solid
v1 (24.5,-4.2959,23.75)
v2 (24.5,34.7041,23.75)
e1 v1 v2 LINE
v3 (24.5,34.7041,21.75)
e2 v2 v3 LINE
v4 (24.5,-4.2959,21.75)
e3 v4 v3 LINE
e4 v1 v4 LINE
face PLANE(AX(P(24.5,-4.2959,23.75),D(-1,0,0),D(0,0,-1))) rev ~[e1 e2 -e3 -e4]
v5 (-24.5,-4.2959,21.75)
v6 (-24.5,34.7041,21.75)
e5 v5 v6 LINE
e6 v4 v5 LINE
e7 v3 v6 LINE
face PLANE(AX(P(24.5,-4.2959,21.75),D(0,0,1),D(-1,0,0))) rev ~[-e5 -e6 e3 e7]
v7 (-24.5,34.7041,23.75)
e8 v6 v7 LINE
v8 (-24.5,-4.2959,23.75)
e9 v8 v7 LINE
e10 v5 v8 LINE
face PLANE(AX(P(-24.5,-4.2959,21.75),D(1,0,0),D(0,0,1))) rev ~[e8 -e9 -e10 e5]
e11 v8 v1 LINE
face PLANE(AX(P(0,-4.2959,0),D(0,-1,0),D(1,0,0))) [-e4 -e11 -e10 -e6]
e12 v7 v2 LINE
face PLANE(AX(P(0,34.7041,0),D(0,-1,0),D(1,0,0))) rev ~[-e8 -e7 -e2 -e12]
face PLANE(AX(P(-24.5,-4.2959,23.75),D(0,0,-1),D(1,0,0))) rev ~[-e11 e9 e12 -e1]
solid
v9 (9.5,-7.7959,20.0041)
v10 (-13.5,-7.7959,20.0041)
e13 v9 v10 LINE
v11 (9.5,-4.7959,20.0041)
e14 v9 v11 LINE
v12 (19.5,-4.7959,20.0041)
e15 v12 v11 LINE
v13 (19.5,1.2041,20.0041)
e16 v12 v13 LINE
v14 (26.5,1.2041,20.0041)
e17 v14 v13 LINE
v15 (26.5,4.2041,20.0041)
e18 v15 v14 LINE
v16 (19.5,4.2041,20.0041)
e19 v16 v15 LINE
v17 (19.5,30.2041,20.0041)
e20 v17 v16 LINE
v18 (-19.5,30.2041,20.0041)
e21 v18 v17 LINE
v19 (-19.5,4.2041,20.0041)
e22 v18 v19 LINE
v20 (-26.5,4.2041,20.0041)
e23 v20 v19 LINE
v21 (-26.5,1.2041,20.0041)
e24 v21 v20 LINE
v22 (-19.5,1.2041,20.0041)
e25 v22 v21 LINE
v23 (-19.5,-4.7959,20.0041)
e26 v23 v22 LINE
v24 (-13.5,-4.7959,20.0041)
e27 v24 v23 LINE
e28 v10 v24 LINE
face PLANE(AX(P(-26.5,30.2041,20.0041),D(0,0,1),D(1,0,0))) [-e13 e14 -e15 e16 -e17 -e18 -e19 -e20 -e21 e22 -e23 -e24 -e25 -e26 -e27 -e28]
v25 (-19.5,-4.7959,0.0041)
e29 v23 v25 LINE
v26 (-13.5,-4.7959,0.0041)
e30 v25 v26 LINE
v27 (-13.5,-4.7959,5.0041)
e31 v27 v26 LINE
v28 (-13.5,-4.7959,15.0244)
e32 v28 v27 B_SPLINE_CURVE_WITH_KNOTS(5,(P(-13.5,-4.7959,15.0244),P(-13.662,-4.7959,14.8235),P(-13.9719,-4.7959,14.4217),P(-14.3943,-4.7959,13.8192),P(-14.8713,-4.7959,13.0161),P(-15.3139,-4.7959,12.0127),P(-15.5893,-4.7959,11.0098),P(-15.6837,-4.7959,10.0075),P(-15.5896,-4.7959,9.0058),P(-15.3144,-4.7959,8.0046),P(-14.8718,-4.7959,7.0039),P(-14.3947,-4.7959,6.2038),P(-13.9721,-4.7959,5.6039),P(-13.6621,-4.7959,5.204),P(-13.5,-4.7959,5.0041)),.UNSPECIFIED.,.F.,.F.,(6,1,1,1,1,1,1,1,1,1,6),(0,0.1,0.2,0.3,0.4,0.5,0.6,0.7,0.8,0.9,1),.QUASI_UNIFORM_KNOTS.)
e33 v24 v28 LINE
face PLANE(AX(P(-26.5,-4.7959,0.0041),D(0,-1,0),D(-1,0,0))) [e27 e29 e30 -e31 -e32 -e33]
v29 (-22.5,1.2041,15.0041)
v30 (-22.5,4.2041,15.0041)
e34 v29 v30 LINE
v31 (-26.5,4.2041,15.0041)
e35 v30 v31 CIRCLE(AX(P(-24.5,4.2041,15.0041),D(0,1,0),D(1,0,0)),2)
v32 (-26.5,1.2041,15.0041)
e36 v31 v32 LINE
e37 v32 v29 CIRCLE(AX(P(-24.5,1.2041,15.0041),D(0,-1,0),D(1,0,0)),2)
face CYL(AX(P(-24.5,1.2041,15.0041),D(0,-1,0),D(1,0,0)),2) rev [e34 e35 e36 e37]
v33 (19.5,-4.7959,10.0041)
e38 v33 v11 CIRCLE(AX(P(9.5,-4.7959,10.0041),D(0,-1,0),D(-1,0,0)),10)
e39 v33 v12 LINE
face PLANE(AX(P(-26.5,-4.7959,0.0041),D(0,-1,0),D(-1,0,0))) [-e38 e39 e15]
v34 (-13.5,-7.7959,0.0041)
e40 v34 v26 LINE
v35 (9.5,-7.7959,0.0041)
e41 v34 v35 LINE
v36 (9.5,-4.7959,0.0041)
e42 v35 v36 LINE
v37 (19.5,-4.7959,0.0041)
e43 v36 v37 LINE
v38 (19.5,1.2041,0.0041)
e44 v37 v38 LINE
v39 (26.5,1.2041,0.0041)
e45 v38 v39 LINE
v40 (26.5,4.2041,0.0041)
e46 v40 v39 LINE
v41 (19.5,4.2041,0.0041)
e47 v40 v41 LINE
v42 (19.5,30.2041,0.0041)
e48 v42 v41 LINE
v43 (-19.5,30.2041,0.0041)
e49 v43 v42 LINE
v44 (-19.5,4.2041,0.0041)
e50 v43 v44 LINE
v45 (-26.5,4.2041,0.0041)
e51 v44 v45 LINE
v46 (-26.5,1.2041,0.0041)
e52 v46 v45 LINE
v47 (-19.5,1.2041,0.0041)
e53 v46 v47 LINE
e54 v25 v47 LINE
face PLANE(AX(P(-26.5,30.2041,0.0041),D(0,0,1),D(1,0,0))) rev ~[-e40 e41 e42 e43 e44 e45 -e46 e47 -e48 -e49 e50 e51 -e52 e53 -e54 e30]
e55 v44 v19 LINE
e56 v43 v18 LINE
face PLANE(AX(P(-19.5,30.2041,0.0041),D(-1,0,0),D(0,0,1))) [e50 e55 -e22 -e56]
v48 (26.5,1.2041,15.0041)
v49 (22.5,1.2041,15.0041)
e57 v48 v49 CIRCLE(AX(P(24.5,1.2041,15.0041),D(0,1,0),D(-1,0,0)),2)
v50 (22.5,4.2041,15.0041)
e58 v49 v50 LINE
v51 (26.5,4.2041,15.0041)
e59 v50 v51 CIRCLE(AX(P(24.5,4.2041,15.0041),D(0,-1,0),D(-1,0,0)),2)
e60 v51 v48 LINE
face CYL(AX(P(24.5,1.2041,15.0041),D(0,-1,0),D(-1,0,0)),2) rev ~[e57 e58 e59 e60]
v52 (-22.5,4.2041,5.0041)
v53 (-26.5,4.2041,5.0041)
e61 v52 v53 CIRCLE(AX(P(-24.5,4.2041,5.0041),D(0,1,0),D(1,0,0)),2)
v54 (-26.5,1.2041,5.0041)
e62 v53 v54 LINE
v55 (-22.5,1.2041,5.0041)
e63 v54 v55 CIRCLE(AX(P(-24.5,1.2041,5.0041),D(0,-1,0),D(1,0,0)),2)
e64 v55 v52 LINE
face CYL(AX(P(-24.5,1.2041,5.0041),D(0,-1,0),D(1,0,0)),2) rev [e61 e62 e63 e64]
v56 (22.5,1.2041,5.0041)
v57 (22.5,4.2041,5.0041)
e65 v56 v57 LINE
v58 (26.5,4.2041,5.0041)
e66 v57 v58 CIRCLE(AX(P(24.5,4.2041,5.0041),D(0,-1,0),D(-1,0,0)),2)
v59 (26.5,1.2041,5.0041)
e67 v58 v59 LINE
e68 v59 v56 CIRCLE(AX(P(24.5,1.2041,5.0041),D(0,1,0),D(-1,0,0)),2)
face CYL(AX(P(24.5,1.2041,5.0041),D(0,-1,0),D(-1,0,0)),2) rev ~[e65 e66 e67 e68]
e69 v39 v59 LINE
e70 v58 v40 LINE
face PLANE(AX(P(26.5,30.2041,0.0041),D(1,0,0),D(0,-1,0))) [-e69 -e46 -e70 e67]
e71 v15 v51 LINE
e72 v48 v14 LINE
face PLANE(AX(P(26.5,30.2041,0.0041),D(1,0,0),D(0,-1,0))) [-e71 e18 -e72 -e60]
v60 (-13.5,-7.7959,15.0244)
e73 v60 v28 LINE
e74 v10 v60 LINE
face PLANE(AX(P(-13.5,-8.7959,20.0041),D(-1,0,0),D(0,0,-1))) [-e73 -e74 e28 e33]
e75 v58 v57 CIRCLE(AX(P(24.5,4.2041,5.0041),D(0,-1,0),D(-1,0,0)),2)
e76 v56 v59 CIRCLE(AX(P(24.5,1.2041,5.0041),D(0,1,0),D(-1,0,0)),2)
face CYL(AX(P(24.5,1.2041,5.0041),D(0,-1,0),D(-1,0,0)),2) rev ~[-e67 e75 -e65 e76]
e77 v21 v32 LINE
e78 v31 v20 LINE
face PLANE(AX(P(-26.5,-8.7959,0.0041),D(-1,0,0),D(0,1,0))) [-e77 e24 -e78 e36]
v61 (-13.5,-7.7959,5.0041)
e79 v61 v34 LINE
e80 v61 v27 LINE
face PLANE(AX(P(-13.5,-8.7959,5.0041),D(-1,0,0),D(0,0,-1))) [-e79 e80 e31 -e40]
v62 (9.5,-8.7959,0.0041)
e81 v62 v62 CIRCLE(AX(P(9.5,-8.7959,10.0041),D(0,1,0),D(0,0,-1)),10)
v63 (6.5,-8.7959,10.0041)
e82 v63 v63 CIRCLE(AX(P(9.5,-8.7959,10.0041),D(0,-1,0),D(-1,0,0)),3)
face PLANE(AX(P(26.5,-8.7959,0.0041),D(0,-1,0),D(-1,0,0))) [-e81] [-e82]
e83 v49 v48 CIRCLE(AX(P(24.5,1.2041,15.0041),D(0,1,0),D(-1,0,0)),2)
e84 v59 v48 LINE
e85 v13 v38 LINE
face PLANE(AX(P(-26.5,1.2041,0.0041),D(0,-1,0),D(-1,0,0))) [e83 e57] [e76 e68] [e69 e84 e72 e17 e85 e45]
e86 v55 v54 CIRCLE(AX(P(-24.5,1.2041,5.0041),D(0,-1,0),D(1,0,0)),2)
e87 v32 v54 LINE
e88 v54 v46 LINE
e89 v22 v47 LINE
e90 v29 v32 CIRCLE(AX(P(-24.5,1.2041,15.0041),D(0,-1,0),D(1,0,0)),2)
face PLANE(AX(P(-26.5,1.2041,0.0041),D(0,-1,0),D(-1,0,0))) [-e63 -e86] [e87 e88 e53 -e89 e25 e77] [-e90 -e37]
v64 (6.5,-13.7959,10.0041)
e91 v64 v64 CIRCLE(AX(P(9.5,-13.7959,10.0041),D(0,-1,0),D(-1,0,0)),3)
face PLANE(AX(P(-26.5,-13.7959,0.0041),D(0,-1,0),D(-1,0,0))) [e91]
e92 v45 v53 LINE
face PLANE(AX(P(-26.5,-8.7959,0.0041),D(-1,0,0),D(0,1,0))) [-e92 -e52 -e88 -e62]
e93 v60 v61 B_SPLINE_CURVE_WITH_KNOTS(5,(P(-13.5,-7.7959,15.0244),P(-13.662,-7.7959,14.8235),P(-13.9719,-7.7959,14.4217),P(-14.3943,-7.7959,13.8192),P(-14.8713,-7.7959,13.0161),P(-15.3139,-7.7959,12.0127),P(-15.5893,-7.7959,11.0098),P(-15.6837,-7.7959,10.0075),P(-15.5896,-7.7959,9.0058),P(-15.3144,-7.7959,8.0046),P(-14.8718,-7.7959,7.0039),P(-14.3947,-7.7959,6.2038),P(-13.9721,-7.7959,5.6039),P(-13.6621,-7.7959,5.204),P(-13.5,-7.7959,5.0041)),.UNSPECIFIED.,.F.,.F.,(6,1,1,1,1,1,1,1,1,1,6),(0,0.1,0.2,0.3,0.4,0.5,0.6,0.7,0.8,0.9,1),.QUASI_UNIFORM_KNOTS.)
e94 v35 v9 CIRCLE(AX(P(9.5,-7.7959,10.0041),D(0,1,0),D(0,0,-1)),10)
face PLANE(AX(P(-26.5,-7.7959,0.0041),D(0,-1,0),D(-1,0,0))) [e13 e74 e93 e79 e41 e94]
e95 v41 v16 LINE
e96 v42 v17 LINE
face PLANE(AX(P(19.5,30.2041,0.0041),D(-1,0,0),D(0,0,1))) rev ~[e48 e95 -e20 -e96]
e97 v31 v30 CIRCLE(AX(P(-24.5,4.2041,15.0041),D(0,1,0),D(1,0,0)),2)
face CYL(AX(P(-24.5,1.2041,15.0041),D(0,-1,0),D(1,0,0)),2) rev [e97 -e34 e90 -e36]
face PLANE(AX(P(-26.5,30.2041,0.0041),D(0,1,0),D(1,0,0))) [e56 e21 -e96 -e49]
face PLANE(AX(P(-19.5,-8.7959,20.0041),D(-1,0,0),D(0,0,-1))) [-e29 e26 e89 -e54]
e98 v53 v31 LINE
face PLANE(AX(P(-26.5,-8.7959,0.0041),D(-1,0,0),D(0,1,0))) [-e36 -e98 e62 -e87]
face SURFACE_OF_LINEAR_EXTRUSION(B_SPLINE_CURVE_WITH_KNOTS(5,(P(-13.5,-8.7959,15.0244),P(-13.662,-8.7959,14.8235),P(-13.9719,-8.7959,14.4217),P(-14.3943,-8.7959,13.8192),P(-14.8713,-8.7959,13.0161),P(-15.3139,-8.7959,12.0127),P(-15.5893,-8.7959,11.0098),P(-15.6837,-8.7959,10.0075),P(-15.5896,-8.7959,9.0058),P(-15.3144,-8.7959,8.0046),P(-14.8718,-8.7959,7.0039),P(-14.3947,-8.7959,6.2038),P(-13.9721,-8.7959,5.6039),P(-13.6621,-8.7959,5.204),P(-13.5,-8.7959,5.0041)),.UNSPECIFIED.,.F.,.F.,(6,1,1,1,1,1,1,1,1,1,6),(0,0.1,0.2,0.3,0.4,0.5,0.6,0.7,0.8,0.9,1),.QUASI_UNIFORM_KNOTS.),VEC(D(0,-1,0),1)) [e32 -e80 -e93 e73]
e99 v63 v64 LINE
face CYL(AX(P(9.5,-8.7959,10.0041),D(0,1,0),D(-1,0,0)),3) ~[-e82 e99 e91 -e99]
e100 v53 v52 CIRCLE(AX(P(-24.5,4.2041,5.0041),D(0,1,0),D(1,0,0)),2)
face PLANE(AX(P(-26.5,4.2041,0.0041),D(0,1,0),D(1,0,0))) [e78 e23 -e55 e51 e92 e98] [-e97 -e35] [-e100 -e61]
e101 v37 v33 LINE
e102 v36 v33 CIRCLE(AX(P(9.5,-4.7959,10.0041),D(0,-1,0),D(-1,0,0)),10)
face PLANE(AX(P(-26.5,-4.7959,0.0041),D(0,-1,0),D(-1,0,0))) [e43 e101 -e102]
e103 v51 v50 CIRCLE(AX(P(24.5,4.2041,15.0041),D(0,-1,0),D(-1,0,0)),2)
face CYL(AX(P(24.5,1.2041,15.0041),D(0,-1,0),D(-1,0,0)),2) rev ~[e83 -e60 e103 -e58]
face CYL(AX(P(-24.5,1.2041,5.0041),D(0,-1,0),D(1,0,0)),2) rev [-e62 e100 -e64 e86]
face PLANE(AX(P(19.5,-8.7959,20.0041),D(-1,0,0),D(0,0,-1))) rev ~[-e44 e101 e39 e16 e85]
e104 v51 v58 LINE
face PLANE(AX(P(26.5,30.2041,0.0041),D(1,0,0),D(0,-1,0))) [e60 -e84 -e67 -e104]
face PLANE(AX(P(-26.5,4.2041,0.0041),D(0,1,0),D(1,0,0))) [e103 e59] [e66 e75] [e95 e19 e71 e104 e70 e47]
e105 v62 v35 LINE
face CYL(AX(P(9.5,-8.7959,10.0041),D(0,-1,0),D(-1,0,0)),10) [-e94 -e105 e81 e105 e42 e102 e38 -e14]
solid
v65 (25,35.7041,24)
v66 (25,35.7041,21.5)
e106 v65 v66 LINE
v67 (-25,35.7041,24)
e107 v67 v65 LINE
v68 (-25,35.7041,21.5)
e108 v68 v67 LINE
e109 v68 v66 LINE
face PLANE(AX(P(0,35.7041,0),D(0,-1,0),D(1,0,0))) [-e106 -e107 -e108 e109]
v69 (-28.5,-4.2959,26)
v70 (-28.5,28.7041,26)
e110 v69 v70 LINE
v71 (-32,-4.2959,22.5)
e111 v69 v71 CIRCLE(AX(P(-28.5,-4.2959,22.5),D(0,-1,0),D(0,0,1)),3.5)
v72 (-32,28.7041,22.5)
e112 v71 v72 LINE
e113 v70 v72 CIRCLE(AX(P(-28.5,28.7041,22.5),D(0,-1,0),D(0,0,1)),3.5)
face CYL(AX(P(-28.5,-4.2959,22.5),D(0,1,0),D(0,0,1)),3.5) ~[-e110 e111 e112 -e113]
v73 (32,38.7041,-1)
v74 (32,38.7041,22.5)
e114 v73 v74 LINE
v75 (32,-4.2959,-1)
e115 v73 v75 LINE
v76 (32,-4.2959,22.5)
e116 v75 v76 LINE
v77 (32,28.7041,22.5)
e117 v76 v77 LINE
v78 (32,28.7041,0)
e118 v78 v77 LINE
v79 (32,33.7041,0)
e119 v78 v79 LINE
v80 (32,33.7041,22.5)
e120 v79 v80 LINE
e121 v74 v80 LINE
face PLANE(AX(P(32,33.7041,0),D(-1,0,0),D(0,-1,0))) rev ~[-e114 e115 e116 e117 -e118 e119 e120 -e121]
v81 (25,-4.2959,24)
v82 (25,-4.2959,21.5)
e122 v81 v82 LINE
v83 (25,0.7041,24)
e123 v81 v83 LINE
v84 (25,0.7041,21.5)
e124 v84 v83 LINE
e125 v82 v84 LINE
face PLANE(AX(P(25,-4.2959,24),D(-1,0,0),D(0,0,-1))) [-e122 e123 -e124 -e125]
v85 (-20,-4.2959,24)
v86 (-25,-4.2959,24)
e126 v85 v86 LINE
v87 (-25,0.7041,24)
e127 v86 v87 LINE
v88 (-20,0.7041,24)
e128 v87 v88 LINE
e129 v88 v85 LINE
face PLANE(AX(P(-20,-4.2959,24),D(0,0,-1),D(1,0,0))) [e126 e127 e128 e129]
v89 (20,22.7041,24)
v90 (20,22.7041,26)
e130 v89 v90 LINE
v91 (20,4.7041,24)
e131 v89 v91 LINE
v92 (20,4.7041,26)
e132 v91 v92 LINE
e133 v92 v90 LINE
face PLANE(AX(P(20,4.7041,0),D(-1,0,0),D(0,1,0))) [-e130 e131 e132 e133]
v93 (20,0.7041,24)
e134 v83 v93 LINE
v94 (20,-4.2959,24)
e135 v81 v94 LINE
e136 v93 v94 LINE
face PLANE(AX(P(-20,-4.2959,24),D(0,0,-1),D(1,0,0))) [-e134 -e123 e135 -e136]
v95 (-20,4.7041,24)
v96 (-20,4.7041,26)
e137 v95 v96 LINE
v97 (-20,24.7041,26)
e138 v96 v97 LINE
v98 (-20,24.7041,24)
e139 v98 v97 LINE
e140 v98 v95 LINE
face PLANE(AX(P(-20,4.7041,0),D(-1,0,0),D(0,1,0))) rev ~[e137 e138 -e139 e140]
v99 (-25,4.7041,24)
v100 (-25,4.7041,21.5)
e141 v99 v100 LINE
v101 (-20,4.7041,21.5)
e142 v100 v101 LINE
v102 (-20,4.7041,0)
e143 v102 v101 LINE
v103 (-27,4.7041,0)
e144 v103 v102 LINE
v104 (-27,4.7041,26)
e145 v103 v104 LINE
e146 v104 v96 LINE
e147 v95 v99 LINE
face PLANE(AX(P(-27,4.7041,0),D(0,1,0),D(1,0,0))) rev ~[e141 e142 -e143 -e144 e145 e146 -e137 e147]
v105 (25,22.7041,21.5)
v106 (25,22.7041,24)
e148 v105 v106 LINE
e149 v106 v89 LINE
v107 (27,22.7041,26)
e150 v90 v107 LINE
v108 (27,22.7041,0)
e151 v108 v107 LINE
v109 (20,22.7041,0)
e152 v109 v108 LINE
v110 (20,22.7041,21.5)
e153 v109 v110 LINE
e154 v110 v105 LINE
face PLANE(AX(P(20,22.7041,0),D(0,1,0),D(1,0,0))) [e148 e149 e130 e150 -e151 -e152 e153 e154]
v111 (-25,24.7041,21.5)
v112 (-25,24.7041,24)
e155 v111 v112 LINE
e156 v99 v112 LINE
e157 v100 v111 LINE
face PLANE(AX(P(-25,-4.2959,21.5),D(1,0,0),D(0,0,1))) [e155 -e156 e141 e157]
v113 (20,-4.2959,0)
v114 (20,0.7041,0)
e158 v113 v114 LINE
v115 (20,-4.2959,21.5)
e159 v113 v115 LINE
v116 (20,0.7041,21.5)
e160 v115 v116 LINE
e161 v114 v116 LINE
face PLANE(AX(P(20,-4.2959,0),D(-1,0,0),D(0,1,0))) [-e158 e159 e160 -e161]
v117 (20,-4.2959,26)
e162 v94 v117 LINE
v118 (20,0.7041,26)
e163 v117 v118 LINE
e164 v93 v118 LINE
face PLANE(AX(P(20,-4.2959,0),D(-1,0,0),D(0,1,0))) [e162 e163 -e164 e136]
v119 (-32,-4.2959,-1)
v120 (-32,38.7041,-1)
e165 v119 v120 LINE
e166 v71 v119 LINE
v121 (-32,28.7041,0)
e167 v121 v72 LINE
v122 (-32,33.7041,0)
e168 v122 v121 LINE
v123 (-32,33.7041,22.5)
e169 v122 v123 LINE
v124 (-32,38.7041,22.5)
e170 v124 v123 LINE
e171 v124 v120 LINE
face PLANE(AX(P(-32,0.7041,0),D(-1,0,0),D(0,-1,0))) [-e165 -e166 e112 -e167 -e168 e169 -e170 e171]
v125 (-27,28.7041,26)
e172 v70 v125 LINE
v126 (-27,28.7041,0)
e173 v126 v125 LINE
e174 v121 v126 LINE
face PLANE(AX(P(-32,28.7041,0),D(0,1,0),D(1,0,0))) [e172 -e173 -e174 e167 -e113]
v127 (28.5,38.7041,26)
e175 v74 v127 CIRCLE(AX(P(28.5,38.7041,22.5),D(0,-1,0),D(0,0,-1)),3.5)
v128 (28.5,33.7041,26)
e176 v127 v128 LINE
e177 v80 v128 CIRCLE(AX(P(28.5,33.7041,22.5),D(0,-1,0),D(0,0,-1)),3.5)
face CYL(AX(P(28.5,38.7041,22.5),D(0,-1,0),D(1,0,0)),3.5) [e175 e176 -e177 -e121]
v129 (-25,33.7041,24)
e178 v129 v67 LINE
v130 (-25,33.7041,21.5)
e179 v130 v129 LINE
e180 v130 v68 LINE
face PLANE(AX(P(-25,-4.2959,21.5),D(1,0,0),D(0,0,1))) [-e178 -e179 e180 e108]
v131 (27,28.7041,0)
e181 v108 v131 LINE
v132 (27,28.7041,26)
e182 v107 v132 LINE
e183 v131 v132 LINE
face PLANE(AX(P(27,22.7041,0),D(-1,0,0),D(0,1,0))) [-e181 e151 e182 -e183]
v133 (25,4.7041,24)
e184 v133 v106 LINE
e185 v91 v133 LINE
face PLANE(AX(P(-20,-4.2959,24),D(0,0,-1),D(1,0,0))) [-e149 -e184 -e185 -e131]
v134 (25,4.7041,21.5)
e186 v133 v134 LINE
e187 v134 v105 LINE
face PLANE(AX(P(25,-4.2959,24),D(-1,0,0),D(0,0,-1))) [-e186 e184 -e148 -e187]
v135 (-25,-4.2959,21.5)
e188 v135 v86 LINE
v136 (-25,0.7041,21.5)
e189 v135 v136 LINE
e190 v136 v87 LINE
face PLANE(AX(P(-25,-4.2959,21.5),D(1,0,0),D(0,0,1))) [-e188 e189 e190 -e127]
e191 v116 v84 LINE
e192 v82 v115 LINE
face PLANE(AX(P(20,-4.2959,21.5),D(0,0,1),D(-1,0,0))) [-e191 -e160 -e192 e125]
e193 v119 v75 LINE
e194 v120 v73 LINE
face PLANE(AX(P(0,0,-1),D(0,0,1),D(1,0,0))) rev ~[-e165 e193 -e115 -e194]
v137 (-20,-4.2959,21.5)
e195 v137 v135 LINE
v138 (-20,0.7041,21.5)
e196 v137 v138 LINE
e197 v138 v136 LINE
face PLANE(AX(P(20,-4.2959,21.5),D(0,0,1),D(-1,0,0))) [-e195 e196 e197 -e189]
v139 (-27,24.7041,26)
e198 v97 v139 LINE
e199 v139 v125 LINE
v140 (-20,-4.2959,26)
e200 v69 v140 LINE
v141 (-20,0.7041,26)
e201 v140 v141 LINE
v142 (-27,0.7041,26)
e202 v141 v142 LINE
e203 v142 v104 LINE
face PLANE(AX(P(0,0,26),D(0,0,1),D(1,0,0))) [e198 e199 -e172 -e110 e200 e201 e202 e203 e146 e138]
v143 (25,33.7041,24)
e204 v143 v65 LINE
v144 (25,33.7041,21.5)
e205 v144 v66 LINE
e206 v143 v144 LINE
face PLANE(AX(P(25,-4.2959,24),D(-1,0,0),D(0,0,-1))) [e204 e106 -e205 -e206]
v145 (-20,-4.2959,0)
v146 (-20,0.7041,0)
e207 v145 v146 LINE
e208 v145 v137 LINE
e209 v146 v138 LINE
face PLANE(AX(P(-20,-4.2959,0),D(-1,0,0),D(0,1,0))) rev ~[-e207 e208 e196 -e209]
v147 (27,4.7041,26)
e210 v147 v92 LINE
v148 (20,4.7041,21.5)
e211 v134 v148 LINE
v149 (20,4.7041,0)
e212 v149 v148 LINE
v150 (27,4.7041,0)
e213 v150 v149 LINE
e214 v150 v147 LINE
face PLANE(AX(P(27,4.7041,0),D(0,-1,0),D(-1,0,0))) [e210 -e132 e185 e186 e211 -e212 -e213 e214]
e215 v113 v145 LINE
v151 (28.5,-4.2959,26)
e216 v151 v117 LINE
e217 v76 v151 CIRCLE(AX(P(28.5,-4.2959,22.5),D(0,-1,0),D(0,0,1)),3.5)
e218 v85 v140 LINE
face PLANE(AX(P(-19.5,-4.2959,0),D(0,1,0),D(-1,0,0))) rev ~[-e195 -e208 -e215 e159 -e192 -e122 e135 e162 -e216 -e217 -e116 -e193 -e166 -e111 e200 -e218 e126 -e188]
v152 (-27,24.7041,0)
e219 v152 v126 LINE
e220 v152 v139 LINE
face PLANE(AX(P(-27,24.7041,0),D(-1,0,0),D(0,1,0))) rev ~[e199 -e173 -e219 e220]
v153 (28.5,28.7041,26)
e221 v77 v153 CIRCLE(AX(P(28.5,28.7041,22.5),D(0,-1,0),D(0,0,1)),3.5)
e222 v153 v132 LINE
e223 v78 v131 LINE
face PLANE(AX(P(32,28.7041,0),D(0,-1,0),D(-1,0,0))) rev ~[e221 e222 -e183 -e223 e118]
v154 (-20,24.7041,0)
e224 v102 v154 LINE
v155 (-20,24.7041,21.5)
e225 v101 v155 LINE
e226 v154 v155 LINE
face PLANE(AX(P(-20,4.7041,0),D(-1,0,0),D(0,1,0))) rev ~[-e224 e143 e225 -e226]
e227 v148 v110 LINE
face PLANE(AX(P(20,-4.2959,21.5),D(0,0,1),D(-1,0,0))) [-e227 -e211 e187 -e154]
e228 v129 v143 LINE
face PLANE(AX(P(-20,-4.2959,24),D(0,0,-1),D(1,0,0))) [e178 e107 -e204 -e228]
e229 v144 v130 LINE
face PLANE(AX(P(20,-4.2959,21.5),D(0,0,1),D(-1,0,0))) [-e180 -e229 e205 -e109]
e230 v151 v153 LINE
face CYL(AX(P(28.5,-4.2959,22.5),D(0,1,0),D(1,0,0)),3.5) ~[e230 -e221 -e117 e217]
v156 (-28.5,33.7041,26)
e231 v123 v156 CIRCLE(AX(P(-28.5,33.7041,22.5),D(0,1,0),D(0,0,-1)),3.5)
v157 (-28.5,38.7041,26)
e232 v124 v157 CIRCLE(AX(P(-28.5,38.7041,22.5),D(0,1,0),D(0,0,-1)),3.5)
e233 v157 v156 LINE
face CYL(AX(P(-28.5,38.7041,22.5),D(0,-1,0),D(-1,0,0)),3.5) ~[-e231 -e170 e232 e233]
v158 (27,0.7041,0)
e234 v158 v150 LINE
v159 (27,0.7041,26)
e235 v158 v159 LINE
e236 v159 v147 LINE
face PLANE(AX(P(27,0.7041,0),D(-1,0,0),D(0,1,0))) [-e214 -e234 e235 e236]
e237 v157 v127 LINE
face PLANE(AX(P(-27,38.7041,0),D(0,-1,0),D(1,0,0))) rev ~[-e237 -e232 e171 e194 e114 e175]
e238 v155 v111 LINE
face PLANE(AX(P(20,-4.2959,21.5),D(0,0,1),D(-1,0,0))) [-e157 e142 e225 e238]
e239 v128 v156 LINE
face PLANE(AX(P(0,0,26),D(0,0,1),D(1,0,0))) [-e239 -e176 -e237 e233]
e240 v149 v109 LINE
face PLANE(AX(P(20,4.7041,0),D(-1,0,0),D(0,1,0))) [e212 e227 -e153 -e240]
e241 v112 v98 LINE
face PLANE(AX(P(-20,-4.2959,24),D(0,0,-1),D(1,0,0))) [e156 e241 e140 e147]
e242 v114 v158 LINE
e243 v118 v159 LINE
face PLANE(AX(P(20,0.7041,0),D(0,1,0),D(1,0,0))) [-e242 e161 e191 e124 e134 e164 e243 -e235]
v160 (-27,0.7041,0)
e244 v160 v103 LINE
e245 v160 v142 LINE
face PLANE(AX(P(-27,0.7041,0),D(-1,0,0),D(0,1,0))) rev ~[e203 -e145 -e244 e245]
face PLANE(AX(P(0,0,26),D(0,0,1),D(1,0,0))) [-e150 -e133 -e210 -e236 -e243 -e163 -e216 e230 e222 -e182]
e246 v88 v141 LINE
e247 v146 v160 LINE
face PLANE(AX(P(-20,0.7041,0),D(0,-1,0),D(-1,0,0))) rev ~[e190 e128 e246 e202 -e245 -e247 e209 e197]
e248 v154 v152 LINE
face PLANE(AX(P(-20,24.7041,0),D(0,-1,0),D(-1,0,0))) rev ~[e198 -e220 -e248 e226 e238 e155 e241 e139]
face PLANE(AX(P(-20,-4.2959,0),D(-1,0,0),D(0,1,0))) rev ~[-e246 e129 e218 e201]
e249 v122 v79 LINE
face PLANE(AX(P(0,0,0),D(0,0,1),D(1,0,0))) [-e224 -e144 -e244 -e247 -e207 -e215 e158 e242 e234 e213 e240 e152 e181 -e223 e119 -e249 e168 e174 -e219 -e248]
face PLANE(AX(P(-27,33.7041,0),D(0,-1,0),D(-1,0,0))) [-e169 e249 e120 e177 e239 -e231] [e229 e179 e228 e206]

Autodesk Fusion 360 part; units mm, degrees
sketch "Sketch1" plane through (0, 0, 0) normal (0, 1, 0) x (1, 0, 0) in component "actual acutator v0 v1"
  line L0 (0, 0) -> (53, 0)
  line L1 (53, 0) -> (53, -39)
  line L2 (53, -39) -> (0, -39)
  line L3 (0, -39) -> (0, 0)
  dimension "d1" = 53
  dimension "d2" = 39
extrude "Extrude1" add sketch "Sketch1" along normal blind 20 makes body 1 in component "actual acutator v0 v1"
sketch "Sketch2" plane through (0, 0, 39) normal (0, 0, 1) x (-1, 0, 0) in component "actual acutator v0 v1"
  line L0 (0, 0) -> (-53, 0)
  line L1 (-53, 0) -> (-53, -20)
  line L2 (-53, -20) -> (0, -20)
  line L3 (0, -20) -> (0, 0)
  line L4 (0, -20) -> (-7, -20)
  line L5 (-7, -20) -> (-7, 0)
  line L6 (-7, 0) -> (0, 0)
  line L7 (0, 0) -> (0, -20)
  line L8 (-53, -20) -> (-46, -20)
  line L9 (-46, -20) -> (-46, 0)
  line L10 (-46, 0) -> (-53, 0)
  line L11 (-53, 0) -> (-53, -20)
  dimension "d5" = 7
  dimension "d6" = 7
extrude "Extrude2" cut sketch "Sketch2" against normal blind 10 contours L0 L2 L3 L4 L5 L6 L7 | L0 L1 L2 L8 L9 L10 L11 bodies 1 in component "actual acutator v0 v1"
sketch "Sketch3" plane through (0, 0, 0) normal (0, 0, -1) x (1, 0, 0) in component "actual acutator v0 v1"
  line L0 (53, 0) -> (0, 0)
  line L1 (0, 0) -> (0, -20)
  line L2 (0, -20) -> (53, -20)
  line L3 (53, -20) -> (53, 0)
  line L4 (0, 0) -> (7, 0)
  line L5 (7, 0) -> (7, -20)
  line L6 (7, -20) -> (0, -20)
  line L7 (0, -20) -> (0, 0)
  line L8 (53, 0) -> (46, 0)
  line L9 (46, 0) -> (46, -20)
  line L10 (46, -20) -> (53, -20)
  line L11 (53, -20) -> (53, 0)
  dimension "d9" = 7
  dimension "d10" = 7
extrude "Extrude3" cut sketch "Sketch3" against normal blind 26 contours L0 L2 L3 L8 L9 L10 L11 | L0 L1 L2 L4 L5 L6 L7 bodies 1 in component "actual acutator v0 v1"
sketch "Sketch4" plane through (0, 0, 39) normal (0, 0, 1) x (-1, 0, 0) in component "actual acutator v0 v1"
  line L0 (-7, -20) -> (-7, 0)
  line L1 (-7, 0) -> (-46, 0)
  line L2 (-46, 0) -> (-46, -20)
  line L3 (-46, -20) -> (-7, -20)
  line L4 (-7, -20) -> (-13, -20)
  line L5 (-13, -20) -> (-13, 0)
  line L6 (-13, 0) -> (-7, 0)
  line L7 (-7, 0) -> (-7, -20)
  circle A0 centre (-36, -10) radius 10
  circle A1 centre (-36, -10) radius 6.5
  circle A2 centre (-36, -10) radius 3
  spline S0 degree 5 poles (-13, -15.0203) (-12.838, -14.8194) (-12.5281, -14.4176) (-12.1057, -13.8151) (-11.6287, -13.012) (-11.1861, -12.0086) (-10.9107, -11.0057) (-10.8163, -10.0034) (-10.9104, -9.0017) (-11.1856, -8.0005) (-11.6282, -6.9998) (-12.1053, -6.1997) (-12.5279, -5.5998) (-12.8379, -5.1999) (-13, -5) knots 0 0 0 0 0 0 0.1 0.2 0.3 0.4 0.5 0.6 0.7 0.8 0.9 1 1 1 1 1 1
  point P0 (-13, -10)
  point P1 (-13, -15.0203)
  point P2 (-13, -5)
  point P3 (-10.8633, -10)
  dimension "d13" = 6
  dimension "d14" = 20
  dimension "d15" = 13
  dimension "d16" = 6
extrude "Extrude4" cut sketch "Sketch4" against normal blind 4 contours L0 L1 L3 L4 L5 L6 L7 S0 | L2 L3 A0 | L1 L2 A0 bodies 1 in component "actual acutator v0 v1"
extrude "Extrude5" cut sketch "Sketch4" against normal blind 1 contours L1 L3 L5 A0 | L2 L3 A0 | L5 S0 | L1 L2 A0 bodies 1 in component "actual acutator v0 v1"
extrude "Extrude6" add sketch "Sketch4" along normal blind 5 contours A2 bodies 1 in component "actual acutator v0 v1"
sketch "Sketch5" plane through (0, 0, 29) normal (0, 0, 1) x (-1, 0, 0) in component "actual acutator v0 v1"
  line L0 (-53, 0) -> (-53, -20)
  line L1 (-53, -20) -> (-46, -20)
  line L2 (-46, -20) -> (-46, 0)
  line L3 (-46, 0) -> (-53, 0)
  line L4 (-53, 0) -> (-51, 0)
  line L5 (-51, 0) -> (-51, -5)
  line L6 (-51, -5) -> (-53, -5)
  line L7 (-53, -5) -> (-53, 0)
  circle A0 centre (-51, -5) radius 2
  line L8 (-53, -20) -> (-51, -20)
  line L9 (-51, -20) -> (-51, -15)
  line L10 (-51, -15) -> (-53, -15)
  line L11 (-53, -15) -> (-53, -20)
  circle A1 centre (-51, -15) radius 2
  dimension "d23" = 2
  dimension "d24" = 5
  dimension "d25" = 4
  dimension "d26" = 2
  dimension "d27" = 5
  dimension "d28" = 4
extrude "Extrude7" cut sketch "Sketch5" against normal blind 3 contours L5 L6 A0 | L5 L6 A0 | L9 L10 A1 | L9 L10 A1 bodies 1 in component "actual acutator v0 v1"
ref_plane "WorkPlane1" through (26.5, 0, 0) normal (1, 0, 0) x (0, 1, 0) in component "actual acutator v0 v1"
mirror "Mirror1" about plane through (26.5, 0, 0) normal (1, 0, 0) of "Extrude7" in component "actual acutator v0 v1"
sketch "Sketch1 (2)" plane through (0, 0, 0) normal (0, 0, 1) x (1, 0, 0) in component "casing"
  line L0 (-13.5, -7.7959) -> (9.5, -7.7959)
  line L1 (9.5, -7.7959) -> (9.5, -4.7959)
  line L2 (9.5, -4.7959) -> (19.5, -4.7959)
  line L3 (19.5, -4.7959) -> (19.5, 1.2041)
  line L4 (19.5, 1.2041) -> (26.5, 1.2041)
  line L5 (26.5, 1.2041) -> (26.5, 4.2041)
  line L6 (26.5, 4.2041) -> (19.5, 4.2041)
  line L7 (19.5, 4.2041) -> (19.5, 30.2041)
  line L8 (19.5, 30.2041) -> (-19.5, 30.2041)
  line L9 (-19.5, 30.2041) -> (-19.5, 4.2041)
  line L10 (-19.5, 4.2041) -> (-26.5, 4.2041)
  line L11 (-26.5, 4.2041) -> (-26.5, 1.2041)
  line L12 (-26.5, 1.2041) -> (-19.5, 1.2041)
  line L13 (-19.5, 1.2041) -> (-19.5, -4.7959)
  line L14 (-19.5, -4.7959) -> (-13.5, -4.7959)
  line L15 (-13.5, -4.7959) -> (-13.5, -7.7959)
  line L16 (-20, 0.7041) -> (-32, 0.7041)
  line L17 (-32, 0.7041) -> (-32, -4.2959)
  line L18 (-32, -4.2959) -> (-20, -4.2959)
  line L19 (-20, -4.2959) -> (-20, 0.7041)
  line L20 (-32, 0.7041) -> (-27, 0.7041)
  line L21 (-27, 0.7041) -> (-27, 38.7041)
  line L22 (-27, 38.7041) -> (-32, 38.7041)
  line L23 (-32, 38.7041) -> (-32, 0.7041)
  line L24 (-27, 38.7041) -> (27, 38.7041)
  line L25 (27, 38.7041) -> (27, 33.7041)
  line L26 (27, 33.7041) -> (-27, 33.7041)
  line L27 (-27, 33.7041) -> (-27, 38.7041)
  line L28 (20, 0.7041) -> (32, 0.7041)
  line L29 (32, 0.7041) -> (32, -4.2959)
  line L30 (32, -4.2959) -> (20, -4.2959)
  line L31 (20, -4.2959) -> (20, 0.7041)
  line L32 (32, 0.7041) -> (27, 0.7041)
  line L33 (27, 0.7041) -> (27, 38.7041)
  line L34 (27, 38.7041) -> (32, 38.7041)
  line L35 (32, 38.7041) -> (32, 0.7041)
  line L36 (27, 4.7041) -> (20, 4.7041)
  line L37 (20, 4.7041) -> (20, 22.7041)
  line L38 (20, 22.7041) -> (27, 22.7041)
  line L39 (27, 22.7041) -> (27, 4.7041)
  line L40 (-27, 4.7041) -> (-20, 4.7041)
  line L41 (-20, 4.7041) -> (-20, 24.7041)
  line L42 (-20, 24.7041) -> (-27, 24.7041)
  line L43 (-27, 24.7041) -> (-27, 4.7041)
  line L44 (-32, 38.7041) -> (32, 38.7041)
  line L45 (32, 38.7041) -> (32, -4.2959)
  line L46 (32, -4.2959) -> (-32, -4.2959)
  line L47 (-32, -4.2959) -> (-32, 38.7041)
  line L48 (-27, 33.7041) -> (-32, 33.7041)
  line L49 (-32, 33.7041) -> (-32, 28.7041)
  line L50 (-32, 28.7041) -> (-27, 28.7041)
  line L51 (-27, 28.7041) -> (-27, 33.7041)
  line L52 (27, 33.7041) -> (32, 33.7041)
  line L53 (32, 33.7041) -> (32, 28.7041)
  line L54 (32, 28.7041) -> (27, 28.7041)
  line L55 (27, 28.7041) -> (27, 33.7041)
  dimension "d34" = 0.5
  dimension "d35" = 0.5
  dimension "d36" = 5
  dimension "d37" = 12
  dimension "d38" = 0.5
  dimension "d39" = 3.5
  dimension "d40" = 5
  dimension "d41" = 0.5
  dimension "d42" = 0.5
  dimension "d43" = 12
  dimension "d44" = 5
  dimension "d45" = 0.5
  dimension "d46" = 0.5
  dimension "d47" = 0.5
  dimension "d48" = 18
  dimension "d49" = 0.5
  dimension "d50" = 0.5
  dimension "d51" = 20
  dimension "d56" = 5
  dimension "d57" = 5
extrude "Extrude1'" add sketch "Sketch1 (2)" against normal blind 1 separate body contours L3 L4 L5 L6 L7 L8 L9 L10 L11 L12 L13 L16 L19 L21 L26 L28 L31 L33 L36 L37 L38 L40 L41 L42 L46 L51 L55 | L3 L4 L5 L6 L7 L8 L9 L10 L11 L12 L13 L46 | L16 L17 L18 L19 L20 L46 L47 | L28 L29 L30 L31 L32 L45 L46 | L16 L20 L21 L23 L43 L47 L50 | L28 L32 L33 L35 L39 L45 L54 | L21 L23 L47 L48 L49 L50 L51 | L21 L40 L41 L42 L43 | L33 L35 L45 L52 L53 L54 L55 | L33 L36 L37 L38 L39 | L21 L22 L23 L27 L44 L47 L48 | L25 L33 L34 L35 L44 L45 L52 | L21 L24 L25 L26 L27 L33 L44 makes body 2 in component "casing"
extrude "Extrude2'" add sketch "Sketch1 (2)" along normal blind 26 contours L16 L17 L18 L19 L20 L46 L47 | L28 L29 L30 L31 L32 L45 L46 | L16 L20 L21 L23 L43 L47 L50 | L28 L32 L33 L35 L39 L45 L54 | L21 L40 L41 L42 L43 | L33 L36 L37 L38 L39 | L21 L22 L23 L27 L44 L47 L48 | L25 L33 L34 L35 L44 L45 L52 | L21 L24 L25 L26 L27 L33 L44 bodies 2 in component "casing"
sketch "Sketch2 (2)" plane through (0, -4.2959, 0) normal (0, -1, 0) x (1, 0, 0) in component "casing"
  line L0 (20, 0) -> (-20, 0)
  line L1 (-20, 0) -> (-20, 26)
  line L2 (-20, 26) -> (-32, 26)
  line L3 (-32, 26) -> (-32, -1)
  line L4 (-32, -1) -> (32, -1)
  line L5 (32, -1) -> (32, 26)
  line L6 (32, 26) -> (20, 26)
  line L7 (20, 26) -> (20, 0)
  line L8 (-25, 24) -> (25, 24)
  line L9 (25, 24) -> (25, 21.5)
  line L10 (25, 21.5) -> (-25, 21.5)
  line L11 (-25, 21.5) -> (-25, 24)
  line L12 (-32, 26) -> (32, 26)
  dimension "d58" = 2.5
  dimension "d59" = 50
  dimension "d60" = 2
  dimension "d61" = 7
extrude "Extrude3'" cut sketch "Sketch2 (2)" against normal blind 40 contours L1 L7 L8 L10 | L7 L8 L9 L10 | L1 L8 L10 L11 bodies 2 in component "casing"
sketch "Sketch1 (3)" plane through (0, -4.2959, 0) normal (0, -1, 0) x (1, 0, 0) in component "lid"
  line L0 (-20, 21.5) -> (-25, 21.5)
  line L1 (-25, 21.5) -> (-25, 24)
  line L2 (-25, 24) -> (-20, 24)
  line L3 (-20, 24) -> (-20, 26)
  line L4 (-20, 26) -> (-32, 26)
  line L5 (-32, 26) -> (-32, -1)
  line L6 (-32, -1) -> (32, -1)
  line L7 (32, -1) -> (32, 26)
  line L8 (32, 26) -> (20, 26)
  line L9 (20, 26) -> (20, 24)
  line L10 (20, 24) -> (25, 24)
  line L11 (25, 24) -> (25, 21.5)
  line L12 (25, 21.5) -> (20, 21.5)
  line L13 (20, 21.5) -> (20, 0)
  line L14 (20, 0) -> (-20, 0)
  line L15 (-20, 0) -> (-20, 21.5)
  line L16 (24.5, 21.75) -> (-24.5, 21.75)
  line L17 (-24.5, 21.75) -> (-24.5, 23.75)
  line L18 (-24.5, 23.75) -> (24.5, 23.75)
  line L19 (24.5, 23.75) -> (24.5, 21.75)
  line L20 (24.5, 21.75) -> (-24.5, 23.75) construction
  line L21 (-24.5, 21.75) -> (24.5, 23.75) construction
  point P0 (0, 22.75)
  dimension "d64" = 49
  dimension "d65" = 2
  dimension "d66" = 2.25
  dimension "d67" = 0.5
extrude "Extrude1''" add sketch "Sketch1 (3)" against normal blind 39 separate body contours L16 L17 L18 L19 makes body 3 in component "lid"
fillet "Fillet1" radius 3.5 4 edges at (-32, 12.2041, 26) (32, 12.2041, 26) (32, 36.2041, 26) (-32, 36.2041, 26) on bodies 2 in component "casing"
component "actual acutator v0 v1" placed x (1, 0, 0) y (0, 0, 1) z (0, -1, 0) at (-26.5, 30.2041, 0.0041)
component "casing" placed x (1, 0, 0) y (0, 1, 0) z (0, 0, 1) at (0, 0, 0)
component "lid" placed x (1, 0, 0) y (0, 1, 0) z (0, 0, 1) at (0, 0, 0) in component "casing"
